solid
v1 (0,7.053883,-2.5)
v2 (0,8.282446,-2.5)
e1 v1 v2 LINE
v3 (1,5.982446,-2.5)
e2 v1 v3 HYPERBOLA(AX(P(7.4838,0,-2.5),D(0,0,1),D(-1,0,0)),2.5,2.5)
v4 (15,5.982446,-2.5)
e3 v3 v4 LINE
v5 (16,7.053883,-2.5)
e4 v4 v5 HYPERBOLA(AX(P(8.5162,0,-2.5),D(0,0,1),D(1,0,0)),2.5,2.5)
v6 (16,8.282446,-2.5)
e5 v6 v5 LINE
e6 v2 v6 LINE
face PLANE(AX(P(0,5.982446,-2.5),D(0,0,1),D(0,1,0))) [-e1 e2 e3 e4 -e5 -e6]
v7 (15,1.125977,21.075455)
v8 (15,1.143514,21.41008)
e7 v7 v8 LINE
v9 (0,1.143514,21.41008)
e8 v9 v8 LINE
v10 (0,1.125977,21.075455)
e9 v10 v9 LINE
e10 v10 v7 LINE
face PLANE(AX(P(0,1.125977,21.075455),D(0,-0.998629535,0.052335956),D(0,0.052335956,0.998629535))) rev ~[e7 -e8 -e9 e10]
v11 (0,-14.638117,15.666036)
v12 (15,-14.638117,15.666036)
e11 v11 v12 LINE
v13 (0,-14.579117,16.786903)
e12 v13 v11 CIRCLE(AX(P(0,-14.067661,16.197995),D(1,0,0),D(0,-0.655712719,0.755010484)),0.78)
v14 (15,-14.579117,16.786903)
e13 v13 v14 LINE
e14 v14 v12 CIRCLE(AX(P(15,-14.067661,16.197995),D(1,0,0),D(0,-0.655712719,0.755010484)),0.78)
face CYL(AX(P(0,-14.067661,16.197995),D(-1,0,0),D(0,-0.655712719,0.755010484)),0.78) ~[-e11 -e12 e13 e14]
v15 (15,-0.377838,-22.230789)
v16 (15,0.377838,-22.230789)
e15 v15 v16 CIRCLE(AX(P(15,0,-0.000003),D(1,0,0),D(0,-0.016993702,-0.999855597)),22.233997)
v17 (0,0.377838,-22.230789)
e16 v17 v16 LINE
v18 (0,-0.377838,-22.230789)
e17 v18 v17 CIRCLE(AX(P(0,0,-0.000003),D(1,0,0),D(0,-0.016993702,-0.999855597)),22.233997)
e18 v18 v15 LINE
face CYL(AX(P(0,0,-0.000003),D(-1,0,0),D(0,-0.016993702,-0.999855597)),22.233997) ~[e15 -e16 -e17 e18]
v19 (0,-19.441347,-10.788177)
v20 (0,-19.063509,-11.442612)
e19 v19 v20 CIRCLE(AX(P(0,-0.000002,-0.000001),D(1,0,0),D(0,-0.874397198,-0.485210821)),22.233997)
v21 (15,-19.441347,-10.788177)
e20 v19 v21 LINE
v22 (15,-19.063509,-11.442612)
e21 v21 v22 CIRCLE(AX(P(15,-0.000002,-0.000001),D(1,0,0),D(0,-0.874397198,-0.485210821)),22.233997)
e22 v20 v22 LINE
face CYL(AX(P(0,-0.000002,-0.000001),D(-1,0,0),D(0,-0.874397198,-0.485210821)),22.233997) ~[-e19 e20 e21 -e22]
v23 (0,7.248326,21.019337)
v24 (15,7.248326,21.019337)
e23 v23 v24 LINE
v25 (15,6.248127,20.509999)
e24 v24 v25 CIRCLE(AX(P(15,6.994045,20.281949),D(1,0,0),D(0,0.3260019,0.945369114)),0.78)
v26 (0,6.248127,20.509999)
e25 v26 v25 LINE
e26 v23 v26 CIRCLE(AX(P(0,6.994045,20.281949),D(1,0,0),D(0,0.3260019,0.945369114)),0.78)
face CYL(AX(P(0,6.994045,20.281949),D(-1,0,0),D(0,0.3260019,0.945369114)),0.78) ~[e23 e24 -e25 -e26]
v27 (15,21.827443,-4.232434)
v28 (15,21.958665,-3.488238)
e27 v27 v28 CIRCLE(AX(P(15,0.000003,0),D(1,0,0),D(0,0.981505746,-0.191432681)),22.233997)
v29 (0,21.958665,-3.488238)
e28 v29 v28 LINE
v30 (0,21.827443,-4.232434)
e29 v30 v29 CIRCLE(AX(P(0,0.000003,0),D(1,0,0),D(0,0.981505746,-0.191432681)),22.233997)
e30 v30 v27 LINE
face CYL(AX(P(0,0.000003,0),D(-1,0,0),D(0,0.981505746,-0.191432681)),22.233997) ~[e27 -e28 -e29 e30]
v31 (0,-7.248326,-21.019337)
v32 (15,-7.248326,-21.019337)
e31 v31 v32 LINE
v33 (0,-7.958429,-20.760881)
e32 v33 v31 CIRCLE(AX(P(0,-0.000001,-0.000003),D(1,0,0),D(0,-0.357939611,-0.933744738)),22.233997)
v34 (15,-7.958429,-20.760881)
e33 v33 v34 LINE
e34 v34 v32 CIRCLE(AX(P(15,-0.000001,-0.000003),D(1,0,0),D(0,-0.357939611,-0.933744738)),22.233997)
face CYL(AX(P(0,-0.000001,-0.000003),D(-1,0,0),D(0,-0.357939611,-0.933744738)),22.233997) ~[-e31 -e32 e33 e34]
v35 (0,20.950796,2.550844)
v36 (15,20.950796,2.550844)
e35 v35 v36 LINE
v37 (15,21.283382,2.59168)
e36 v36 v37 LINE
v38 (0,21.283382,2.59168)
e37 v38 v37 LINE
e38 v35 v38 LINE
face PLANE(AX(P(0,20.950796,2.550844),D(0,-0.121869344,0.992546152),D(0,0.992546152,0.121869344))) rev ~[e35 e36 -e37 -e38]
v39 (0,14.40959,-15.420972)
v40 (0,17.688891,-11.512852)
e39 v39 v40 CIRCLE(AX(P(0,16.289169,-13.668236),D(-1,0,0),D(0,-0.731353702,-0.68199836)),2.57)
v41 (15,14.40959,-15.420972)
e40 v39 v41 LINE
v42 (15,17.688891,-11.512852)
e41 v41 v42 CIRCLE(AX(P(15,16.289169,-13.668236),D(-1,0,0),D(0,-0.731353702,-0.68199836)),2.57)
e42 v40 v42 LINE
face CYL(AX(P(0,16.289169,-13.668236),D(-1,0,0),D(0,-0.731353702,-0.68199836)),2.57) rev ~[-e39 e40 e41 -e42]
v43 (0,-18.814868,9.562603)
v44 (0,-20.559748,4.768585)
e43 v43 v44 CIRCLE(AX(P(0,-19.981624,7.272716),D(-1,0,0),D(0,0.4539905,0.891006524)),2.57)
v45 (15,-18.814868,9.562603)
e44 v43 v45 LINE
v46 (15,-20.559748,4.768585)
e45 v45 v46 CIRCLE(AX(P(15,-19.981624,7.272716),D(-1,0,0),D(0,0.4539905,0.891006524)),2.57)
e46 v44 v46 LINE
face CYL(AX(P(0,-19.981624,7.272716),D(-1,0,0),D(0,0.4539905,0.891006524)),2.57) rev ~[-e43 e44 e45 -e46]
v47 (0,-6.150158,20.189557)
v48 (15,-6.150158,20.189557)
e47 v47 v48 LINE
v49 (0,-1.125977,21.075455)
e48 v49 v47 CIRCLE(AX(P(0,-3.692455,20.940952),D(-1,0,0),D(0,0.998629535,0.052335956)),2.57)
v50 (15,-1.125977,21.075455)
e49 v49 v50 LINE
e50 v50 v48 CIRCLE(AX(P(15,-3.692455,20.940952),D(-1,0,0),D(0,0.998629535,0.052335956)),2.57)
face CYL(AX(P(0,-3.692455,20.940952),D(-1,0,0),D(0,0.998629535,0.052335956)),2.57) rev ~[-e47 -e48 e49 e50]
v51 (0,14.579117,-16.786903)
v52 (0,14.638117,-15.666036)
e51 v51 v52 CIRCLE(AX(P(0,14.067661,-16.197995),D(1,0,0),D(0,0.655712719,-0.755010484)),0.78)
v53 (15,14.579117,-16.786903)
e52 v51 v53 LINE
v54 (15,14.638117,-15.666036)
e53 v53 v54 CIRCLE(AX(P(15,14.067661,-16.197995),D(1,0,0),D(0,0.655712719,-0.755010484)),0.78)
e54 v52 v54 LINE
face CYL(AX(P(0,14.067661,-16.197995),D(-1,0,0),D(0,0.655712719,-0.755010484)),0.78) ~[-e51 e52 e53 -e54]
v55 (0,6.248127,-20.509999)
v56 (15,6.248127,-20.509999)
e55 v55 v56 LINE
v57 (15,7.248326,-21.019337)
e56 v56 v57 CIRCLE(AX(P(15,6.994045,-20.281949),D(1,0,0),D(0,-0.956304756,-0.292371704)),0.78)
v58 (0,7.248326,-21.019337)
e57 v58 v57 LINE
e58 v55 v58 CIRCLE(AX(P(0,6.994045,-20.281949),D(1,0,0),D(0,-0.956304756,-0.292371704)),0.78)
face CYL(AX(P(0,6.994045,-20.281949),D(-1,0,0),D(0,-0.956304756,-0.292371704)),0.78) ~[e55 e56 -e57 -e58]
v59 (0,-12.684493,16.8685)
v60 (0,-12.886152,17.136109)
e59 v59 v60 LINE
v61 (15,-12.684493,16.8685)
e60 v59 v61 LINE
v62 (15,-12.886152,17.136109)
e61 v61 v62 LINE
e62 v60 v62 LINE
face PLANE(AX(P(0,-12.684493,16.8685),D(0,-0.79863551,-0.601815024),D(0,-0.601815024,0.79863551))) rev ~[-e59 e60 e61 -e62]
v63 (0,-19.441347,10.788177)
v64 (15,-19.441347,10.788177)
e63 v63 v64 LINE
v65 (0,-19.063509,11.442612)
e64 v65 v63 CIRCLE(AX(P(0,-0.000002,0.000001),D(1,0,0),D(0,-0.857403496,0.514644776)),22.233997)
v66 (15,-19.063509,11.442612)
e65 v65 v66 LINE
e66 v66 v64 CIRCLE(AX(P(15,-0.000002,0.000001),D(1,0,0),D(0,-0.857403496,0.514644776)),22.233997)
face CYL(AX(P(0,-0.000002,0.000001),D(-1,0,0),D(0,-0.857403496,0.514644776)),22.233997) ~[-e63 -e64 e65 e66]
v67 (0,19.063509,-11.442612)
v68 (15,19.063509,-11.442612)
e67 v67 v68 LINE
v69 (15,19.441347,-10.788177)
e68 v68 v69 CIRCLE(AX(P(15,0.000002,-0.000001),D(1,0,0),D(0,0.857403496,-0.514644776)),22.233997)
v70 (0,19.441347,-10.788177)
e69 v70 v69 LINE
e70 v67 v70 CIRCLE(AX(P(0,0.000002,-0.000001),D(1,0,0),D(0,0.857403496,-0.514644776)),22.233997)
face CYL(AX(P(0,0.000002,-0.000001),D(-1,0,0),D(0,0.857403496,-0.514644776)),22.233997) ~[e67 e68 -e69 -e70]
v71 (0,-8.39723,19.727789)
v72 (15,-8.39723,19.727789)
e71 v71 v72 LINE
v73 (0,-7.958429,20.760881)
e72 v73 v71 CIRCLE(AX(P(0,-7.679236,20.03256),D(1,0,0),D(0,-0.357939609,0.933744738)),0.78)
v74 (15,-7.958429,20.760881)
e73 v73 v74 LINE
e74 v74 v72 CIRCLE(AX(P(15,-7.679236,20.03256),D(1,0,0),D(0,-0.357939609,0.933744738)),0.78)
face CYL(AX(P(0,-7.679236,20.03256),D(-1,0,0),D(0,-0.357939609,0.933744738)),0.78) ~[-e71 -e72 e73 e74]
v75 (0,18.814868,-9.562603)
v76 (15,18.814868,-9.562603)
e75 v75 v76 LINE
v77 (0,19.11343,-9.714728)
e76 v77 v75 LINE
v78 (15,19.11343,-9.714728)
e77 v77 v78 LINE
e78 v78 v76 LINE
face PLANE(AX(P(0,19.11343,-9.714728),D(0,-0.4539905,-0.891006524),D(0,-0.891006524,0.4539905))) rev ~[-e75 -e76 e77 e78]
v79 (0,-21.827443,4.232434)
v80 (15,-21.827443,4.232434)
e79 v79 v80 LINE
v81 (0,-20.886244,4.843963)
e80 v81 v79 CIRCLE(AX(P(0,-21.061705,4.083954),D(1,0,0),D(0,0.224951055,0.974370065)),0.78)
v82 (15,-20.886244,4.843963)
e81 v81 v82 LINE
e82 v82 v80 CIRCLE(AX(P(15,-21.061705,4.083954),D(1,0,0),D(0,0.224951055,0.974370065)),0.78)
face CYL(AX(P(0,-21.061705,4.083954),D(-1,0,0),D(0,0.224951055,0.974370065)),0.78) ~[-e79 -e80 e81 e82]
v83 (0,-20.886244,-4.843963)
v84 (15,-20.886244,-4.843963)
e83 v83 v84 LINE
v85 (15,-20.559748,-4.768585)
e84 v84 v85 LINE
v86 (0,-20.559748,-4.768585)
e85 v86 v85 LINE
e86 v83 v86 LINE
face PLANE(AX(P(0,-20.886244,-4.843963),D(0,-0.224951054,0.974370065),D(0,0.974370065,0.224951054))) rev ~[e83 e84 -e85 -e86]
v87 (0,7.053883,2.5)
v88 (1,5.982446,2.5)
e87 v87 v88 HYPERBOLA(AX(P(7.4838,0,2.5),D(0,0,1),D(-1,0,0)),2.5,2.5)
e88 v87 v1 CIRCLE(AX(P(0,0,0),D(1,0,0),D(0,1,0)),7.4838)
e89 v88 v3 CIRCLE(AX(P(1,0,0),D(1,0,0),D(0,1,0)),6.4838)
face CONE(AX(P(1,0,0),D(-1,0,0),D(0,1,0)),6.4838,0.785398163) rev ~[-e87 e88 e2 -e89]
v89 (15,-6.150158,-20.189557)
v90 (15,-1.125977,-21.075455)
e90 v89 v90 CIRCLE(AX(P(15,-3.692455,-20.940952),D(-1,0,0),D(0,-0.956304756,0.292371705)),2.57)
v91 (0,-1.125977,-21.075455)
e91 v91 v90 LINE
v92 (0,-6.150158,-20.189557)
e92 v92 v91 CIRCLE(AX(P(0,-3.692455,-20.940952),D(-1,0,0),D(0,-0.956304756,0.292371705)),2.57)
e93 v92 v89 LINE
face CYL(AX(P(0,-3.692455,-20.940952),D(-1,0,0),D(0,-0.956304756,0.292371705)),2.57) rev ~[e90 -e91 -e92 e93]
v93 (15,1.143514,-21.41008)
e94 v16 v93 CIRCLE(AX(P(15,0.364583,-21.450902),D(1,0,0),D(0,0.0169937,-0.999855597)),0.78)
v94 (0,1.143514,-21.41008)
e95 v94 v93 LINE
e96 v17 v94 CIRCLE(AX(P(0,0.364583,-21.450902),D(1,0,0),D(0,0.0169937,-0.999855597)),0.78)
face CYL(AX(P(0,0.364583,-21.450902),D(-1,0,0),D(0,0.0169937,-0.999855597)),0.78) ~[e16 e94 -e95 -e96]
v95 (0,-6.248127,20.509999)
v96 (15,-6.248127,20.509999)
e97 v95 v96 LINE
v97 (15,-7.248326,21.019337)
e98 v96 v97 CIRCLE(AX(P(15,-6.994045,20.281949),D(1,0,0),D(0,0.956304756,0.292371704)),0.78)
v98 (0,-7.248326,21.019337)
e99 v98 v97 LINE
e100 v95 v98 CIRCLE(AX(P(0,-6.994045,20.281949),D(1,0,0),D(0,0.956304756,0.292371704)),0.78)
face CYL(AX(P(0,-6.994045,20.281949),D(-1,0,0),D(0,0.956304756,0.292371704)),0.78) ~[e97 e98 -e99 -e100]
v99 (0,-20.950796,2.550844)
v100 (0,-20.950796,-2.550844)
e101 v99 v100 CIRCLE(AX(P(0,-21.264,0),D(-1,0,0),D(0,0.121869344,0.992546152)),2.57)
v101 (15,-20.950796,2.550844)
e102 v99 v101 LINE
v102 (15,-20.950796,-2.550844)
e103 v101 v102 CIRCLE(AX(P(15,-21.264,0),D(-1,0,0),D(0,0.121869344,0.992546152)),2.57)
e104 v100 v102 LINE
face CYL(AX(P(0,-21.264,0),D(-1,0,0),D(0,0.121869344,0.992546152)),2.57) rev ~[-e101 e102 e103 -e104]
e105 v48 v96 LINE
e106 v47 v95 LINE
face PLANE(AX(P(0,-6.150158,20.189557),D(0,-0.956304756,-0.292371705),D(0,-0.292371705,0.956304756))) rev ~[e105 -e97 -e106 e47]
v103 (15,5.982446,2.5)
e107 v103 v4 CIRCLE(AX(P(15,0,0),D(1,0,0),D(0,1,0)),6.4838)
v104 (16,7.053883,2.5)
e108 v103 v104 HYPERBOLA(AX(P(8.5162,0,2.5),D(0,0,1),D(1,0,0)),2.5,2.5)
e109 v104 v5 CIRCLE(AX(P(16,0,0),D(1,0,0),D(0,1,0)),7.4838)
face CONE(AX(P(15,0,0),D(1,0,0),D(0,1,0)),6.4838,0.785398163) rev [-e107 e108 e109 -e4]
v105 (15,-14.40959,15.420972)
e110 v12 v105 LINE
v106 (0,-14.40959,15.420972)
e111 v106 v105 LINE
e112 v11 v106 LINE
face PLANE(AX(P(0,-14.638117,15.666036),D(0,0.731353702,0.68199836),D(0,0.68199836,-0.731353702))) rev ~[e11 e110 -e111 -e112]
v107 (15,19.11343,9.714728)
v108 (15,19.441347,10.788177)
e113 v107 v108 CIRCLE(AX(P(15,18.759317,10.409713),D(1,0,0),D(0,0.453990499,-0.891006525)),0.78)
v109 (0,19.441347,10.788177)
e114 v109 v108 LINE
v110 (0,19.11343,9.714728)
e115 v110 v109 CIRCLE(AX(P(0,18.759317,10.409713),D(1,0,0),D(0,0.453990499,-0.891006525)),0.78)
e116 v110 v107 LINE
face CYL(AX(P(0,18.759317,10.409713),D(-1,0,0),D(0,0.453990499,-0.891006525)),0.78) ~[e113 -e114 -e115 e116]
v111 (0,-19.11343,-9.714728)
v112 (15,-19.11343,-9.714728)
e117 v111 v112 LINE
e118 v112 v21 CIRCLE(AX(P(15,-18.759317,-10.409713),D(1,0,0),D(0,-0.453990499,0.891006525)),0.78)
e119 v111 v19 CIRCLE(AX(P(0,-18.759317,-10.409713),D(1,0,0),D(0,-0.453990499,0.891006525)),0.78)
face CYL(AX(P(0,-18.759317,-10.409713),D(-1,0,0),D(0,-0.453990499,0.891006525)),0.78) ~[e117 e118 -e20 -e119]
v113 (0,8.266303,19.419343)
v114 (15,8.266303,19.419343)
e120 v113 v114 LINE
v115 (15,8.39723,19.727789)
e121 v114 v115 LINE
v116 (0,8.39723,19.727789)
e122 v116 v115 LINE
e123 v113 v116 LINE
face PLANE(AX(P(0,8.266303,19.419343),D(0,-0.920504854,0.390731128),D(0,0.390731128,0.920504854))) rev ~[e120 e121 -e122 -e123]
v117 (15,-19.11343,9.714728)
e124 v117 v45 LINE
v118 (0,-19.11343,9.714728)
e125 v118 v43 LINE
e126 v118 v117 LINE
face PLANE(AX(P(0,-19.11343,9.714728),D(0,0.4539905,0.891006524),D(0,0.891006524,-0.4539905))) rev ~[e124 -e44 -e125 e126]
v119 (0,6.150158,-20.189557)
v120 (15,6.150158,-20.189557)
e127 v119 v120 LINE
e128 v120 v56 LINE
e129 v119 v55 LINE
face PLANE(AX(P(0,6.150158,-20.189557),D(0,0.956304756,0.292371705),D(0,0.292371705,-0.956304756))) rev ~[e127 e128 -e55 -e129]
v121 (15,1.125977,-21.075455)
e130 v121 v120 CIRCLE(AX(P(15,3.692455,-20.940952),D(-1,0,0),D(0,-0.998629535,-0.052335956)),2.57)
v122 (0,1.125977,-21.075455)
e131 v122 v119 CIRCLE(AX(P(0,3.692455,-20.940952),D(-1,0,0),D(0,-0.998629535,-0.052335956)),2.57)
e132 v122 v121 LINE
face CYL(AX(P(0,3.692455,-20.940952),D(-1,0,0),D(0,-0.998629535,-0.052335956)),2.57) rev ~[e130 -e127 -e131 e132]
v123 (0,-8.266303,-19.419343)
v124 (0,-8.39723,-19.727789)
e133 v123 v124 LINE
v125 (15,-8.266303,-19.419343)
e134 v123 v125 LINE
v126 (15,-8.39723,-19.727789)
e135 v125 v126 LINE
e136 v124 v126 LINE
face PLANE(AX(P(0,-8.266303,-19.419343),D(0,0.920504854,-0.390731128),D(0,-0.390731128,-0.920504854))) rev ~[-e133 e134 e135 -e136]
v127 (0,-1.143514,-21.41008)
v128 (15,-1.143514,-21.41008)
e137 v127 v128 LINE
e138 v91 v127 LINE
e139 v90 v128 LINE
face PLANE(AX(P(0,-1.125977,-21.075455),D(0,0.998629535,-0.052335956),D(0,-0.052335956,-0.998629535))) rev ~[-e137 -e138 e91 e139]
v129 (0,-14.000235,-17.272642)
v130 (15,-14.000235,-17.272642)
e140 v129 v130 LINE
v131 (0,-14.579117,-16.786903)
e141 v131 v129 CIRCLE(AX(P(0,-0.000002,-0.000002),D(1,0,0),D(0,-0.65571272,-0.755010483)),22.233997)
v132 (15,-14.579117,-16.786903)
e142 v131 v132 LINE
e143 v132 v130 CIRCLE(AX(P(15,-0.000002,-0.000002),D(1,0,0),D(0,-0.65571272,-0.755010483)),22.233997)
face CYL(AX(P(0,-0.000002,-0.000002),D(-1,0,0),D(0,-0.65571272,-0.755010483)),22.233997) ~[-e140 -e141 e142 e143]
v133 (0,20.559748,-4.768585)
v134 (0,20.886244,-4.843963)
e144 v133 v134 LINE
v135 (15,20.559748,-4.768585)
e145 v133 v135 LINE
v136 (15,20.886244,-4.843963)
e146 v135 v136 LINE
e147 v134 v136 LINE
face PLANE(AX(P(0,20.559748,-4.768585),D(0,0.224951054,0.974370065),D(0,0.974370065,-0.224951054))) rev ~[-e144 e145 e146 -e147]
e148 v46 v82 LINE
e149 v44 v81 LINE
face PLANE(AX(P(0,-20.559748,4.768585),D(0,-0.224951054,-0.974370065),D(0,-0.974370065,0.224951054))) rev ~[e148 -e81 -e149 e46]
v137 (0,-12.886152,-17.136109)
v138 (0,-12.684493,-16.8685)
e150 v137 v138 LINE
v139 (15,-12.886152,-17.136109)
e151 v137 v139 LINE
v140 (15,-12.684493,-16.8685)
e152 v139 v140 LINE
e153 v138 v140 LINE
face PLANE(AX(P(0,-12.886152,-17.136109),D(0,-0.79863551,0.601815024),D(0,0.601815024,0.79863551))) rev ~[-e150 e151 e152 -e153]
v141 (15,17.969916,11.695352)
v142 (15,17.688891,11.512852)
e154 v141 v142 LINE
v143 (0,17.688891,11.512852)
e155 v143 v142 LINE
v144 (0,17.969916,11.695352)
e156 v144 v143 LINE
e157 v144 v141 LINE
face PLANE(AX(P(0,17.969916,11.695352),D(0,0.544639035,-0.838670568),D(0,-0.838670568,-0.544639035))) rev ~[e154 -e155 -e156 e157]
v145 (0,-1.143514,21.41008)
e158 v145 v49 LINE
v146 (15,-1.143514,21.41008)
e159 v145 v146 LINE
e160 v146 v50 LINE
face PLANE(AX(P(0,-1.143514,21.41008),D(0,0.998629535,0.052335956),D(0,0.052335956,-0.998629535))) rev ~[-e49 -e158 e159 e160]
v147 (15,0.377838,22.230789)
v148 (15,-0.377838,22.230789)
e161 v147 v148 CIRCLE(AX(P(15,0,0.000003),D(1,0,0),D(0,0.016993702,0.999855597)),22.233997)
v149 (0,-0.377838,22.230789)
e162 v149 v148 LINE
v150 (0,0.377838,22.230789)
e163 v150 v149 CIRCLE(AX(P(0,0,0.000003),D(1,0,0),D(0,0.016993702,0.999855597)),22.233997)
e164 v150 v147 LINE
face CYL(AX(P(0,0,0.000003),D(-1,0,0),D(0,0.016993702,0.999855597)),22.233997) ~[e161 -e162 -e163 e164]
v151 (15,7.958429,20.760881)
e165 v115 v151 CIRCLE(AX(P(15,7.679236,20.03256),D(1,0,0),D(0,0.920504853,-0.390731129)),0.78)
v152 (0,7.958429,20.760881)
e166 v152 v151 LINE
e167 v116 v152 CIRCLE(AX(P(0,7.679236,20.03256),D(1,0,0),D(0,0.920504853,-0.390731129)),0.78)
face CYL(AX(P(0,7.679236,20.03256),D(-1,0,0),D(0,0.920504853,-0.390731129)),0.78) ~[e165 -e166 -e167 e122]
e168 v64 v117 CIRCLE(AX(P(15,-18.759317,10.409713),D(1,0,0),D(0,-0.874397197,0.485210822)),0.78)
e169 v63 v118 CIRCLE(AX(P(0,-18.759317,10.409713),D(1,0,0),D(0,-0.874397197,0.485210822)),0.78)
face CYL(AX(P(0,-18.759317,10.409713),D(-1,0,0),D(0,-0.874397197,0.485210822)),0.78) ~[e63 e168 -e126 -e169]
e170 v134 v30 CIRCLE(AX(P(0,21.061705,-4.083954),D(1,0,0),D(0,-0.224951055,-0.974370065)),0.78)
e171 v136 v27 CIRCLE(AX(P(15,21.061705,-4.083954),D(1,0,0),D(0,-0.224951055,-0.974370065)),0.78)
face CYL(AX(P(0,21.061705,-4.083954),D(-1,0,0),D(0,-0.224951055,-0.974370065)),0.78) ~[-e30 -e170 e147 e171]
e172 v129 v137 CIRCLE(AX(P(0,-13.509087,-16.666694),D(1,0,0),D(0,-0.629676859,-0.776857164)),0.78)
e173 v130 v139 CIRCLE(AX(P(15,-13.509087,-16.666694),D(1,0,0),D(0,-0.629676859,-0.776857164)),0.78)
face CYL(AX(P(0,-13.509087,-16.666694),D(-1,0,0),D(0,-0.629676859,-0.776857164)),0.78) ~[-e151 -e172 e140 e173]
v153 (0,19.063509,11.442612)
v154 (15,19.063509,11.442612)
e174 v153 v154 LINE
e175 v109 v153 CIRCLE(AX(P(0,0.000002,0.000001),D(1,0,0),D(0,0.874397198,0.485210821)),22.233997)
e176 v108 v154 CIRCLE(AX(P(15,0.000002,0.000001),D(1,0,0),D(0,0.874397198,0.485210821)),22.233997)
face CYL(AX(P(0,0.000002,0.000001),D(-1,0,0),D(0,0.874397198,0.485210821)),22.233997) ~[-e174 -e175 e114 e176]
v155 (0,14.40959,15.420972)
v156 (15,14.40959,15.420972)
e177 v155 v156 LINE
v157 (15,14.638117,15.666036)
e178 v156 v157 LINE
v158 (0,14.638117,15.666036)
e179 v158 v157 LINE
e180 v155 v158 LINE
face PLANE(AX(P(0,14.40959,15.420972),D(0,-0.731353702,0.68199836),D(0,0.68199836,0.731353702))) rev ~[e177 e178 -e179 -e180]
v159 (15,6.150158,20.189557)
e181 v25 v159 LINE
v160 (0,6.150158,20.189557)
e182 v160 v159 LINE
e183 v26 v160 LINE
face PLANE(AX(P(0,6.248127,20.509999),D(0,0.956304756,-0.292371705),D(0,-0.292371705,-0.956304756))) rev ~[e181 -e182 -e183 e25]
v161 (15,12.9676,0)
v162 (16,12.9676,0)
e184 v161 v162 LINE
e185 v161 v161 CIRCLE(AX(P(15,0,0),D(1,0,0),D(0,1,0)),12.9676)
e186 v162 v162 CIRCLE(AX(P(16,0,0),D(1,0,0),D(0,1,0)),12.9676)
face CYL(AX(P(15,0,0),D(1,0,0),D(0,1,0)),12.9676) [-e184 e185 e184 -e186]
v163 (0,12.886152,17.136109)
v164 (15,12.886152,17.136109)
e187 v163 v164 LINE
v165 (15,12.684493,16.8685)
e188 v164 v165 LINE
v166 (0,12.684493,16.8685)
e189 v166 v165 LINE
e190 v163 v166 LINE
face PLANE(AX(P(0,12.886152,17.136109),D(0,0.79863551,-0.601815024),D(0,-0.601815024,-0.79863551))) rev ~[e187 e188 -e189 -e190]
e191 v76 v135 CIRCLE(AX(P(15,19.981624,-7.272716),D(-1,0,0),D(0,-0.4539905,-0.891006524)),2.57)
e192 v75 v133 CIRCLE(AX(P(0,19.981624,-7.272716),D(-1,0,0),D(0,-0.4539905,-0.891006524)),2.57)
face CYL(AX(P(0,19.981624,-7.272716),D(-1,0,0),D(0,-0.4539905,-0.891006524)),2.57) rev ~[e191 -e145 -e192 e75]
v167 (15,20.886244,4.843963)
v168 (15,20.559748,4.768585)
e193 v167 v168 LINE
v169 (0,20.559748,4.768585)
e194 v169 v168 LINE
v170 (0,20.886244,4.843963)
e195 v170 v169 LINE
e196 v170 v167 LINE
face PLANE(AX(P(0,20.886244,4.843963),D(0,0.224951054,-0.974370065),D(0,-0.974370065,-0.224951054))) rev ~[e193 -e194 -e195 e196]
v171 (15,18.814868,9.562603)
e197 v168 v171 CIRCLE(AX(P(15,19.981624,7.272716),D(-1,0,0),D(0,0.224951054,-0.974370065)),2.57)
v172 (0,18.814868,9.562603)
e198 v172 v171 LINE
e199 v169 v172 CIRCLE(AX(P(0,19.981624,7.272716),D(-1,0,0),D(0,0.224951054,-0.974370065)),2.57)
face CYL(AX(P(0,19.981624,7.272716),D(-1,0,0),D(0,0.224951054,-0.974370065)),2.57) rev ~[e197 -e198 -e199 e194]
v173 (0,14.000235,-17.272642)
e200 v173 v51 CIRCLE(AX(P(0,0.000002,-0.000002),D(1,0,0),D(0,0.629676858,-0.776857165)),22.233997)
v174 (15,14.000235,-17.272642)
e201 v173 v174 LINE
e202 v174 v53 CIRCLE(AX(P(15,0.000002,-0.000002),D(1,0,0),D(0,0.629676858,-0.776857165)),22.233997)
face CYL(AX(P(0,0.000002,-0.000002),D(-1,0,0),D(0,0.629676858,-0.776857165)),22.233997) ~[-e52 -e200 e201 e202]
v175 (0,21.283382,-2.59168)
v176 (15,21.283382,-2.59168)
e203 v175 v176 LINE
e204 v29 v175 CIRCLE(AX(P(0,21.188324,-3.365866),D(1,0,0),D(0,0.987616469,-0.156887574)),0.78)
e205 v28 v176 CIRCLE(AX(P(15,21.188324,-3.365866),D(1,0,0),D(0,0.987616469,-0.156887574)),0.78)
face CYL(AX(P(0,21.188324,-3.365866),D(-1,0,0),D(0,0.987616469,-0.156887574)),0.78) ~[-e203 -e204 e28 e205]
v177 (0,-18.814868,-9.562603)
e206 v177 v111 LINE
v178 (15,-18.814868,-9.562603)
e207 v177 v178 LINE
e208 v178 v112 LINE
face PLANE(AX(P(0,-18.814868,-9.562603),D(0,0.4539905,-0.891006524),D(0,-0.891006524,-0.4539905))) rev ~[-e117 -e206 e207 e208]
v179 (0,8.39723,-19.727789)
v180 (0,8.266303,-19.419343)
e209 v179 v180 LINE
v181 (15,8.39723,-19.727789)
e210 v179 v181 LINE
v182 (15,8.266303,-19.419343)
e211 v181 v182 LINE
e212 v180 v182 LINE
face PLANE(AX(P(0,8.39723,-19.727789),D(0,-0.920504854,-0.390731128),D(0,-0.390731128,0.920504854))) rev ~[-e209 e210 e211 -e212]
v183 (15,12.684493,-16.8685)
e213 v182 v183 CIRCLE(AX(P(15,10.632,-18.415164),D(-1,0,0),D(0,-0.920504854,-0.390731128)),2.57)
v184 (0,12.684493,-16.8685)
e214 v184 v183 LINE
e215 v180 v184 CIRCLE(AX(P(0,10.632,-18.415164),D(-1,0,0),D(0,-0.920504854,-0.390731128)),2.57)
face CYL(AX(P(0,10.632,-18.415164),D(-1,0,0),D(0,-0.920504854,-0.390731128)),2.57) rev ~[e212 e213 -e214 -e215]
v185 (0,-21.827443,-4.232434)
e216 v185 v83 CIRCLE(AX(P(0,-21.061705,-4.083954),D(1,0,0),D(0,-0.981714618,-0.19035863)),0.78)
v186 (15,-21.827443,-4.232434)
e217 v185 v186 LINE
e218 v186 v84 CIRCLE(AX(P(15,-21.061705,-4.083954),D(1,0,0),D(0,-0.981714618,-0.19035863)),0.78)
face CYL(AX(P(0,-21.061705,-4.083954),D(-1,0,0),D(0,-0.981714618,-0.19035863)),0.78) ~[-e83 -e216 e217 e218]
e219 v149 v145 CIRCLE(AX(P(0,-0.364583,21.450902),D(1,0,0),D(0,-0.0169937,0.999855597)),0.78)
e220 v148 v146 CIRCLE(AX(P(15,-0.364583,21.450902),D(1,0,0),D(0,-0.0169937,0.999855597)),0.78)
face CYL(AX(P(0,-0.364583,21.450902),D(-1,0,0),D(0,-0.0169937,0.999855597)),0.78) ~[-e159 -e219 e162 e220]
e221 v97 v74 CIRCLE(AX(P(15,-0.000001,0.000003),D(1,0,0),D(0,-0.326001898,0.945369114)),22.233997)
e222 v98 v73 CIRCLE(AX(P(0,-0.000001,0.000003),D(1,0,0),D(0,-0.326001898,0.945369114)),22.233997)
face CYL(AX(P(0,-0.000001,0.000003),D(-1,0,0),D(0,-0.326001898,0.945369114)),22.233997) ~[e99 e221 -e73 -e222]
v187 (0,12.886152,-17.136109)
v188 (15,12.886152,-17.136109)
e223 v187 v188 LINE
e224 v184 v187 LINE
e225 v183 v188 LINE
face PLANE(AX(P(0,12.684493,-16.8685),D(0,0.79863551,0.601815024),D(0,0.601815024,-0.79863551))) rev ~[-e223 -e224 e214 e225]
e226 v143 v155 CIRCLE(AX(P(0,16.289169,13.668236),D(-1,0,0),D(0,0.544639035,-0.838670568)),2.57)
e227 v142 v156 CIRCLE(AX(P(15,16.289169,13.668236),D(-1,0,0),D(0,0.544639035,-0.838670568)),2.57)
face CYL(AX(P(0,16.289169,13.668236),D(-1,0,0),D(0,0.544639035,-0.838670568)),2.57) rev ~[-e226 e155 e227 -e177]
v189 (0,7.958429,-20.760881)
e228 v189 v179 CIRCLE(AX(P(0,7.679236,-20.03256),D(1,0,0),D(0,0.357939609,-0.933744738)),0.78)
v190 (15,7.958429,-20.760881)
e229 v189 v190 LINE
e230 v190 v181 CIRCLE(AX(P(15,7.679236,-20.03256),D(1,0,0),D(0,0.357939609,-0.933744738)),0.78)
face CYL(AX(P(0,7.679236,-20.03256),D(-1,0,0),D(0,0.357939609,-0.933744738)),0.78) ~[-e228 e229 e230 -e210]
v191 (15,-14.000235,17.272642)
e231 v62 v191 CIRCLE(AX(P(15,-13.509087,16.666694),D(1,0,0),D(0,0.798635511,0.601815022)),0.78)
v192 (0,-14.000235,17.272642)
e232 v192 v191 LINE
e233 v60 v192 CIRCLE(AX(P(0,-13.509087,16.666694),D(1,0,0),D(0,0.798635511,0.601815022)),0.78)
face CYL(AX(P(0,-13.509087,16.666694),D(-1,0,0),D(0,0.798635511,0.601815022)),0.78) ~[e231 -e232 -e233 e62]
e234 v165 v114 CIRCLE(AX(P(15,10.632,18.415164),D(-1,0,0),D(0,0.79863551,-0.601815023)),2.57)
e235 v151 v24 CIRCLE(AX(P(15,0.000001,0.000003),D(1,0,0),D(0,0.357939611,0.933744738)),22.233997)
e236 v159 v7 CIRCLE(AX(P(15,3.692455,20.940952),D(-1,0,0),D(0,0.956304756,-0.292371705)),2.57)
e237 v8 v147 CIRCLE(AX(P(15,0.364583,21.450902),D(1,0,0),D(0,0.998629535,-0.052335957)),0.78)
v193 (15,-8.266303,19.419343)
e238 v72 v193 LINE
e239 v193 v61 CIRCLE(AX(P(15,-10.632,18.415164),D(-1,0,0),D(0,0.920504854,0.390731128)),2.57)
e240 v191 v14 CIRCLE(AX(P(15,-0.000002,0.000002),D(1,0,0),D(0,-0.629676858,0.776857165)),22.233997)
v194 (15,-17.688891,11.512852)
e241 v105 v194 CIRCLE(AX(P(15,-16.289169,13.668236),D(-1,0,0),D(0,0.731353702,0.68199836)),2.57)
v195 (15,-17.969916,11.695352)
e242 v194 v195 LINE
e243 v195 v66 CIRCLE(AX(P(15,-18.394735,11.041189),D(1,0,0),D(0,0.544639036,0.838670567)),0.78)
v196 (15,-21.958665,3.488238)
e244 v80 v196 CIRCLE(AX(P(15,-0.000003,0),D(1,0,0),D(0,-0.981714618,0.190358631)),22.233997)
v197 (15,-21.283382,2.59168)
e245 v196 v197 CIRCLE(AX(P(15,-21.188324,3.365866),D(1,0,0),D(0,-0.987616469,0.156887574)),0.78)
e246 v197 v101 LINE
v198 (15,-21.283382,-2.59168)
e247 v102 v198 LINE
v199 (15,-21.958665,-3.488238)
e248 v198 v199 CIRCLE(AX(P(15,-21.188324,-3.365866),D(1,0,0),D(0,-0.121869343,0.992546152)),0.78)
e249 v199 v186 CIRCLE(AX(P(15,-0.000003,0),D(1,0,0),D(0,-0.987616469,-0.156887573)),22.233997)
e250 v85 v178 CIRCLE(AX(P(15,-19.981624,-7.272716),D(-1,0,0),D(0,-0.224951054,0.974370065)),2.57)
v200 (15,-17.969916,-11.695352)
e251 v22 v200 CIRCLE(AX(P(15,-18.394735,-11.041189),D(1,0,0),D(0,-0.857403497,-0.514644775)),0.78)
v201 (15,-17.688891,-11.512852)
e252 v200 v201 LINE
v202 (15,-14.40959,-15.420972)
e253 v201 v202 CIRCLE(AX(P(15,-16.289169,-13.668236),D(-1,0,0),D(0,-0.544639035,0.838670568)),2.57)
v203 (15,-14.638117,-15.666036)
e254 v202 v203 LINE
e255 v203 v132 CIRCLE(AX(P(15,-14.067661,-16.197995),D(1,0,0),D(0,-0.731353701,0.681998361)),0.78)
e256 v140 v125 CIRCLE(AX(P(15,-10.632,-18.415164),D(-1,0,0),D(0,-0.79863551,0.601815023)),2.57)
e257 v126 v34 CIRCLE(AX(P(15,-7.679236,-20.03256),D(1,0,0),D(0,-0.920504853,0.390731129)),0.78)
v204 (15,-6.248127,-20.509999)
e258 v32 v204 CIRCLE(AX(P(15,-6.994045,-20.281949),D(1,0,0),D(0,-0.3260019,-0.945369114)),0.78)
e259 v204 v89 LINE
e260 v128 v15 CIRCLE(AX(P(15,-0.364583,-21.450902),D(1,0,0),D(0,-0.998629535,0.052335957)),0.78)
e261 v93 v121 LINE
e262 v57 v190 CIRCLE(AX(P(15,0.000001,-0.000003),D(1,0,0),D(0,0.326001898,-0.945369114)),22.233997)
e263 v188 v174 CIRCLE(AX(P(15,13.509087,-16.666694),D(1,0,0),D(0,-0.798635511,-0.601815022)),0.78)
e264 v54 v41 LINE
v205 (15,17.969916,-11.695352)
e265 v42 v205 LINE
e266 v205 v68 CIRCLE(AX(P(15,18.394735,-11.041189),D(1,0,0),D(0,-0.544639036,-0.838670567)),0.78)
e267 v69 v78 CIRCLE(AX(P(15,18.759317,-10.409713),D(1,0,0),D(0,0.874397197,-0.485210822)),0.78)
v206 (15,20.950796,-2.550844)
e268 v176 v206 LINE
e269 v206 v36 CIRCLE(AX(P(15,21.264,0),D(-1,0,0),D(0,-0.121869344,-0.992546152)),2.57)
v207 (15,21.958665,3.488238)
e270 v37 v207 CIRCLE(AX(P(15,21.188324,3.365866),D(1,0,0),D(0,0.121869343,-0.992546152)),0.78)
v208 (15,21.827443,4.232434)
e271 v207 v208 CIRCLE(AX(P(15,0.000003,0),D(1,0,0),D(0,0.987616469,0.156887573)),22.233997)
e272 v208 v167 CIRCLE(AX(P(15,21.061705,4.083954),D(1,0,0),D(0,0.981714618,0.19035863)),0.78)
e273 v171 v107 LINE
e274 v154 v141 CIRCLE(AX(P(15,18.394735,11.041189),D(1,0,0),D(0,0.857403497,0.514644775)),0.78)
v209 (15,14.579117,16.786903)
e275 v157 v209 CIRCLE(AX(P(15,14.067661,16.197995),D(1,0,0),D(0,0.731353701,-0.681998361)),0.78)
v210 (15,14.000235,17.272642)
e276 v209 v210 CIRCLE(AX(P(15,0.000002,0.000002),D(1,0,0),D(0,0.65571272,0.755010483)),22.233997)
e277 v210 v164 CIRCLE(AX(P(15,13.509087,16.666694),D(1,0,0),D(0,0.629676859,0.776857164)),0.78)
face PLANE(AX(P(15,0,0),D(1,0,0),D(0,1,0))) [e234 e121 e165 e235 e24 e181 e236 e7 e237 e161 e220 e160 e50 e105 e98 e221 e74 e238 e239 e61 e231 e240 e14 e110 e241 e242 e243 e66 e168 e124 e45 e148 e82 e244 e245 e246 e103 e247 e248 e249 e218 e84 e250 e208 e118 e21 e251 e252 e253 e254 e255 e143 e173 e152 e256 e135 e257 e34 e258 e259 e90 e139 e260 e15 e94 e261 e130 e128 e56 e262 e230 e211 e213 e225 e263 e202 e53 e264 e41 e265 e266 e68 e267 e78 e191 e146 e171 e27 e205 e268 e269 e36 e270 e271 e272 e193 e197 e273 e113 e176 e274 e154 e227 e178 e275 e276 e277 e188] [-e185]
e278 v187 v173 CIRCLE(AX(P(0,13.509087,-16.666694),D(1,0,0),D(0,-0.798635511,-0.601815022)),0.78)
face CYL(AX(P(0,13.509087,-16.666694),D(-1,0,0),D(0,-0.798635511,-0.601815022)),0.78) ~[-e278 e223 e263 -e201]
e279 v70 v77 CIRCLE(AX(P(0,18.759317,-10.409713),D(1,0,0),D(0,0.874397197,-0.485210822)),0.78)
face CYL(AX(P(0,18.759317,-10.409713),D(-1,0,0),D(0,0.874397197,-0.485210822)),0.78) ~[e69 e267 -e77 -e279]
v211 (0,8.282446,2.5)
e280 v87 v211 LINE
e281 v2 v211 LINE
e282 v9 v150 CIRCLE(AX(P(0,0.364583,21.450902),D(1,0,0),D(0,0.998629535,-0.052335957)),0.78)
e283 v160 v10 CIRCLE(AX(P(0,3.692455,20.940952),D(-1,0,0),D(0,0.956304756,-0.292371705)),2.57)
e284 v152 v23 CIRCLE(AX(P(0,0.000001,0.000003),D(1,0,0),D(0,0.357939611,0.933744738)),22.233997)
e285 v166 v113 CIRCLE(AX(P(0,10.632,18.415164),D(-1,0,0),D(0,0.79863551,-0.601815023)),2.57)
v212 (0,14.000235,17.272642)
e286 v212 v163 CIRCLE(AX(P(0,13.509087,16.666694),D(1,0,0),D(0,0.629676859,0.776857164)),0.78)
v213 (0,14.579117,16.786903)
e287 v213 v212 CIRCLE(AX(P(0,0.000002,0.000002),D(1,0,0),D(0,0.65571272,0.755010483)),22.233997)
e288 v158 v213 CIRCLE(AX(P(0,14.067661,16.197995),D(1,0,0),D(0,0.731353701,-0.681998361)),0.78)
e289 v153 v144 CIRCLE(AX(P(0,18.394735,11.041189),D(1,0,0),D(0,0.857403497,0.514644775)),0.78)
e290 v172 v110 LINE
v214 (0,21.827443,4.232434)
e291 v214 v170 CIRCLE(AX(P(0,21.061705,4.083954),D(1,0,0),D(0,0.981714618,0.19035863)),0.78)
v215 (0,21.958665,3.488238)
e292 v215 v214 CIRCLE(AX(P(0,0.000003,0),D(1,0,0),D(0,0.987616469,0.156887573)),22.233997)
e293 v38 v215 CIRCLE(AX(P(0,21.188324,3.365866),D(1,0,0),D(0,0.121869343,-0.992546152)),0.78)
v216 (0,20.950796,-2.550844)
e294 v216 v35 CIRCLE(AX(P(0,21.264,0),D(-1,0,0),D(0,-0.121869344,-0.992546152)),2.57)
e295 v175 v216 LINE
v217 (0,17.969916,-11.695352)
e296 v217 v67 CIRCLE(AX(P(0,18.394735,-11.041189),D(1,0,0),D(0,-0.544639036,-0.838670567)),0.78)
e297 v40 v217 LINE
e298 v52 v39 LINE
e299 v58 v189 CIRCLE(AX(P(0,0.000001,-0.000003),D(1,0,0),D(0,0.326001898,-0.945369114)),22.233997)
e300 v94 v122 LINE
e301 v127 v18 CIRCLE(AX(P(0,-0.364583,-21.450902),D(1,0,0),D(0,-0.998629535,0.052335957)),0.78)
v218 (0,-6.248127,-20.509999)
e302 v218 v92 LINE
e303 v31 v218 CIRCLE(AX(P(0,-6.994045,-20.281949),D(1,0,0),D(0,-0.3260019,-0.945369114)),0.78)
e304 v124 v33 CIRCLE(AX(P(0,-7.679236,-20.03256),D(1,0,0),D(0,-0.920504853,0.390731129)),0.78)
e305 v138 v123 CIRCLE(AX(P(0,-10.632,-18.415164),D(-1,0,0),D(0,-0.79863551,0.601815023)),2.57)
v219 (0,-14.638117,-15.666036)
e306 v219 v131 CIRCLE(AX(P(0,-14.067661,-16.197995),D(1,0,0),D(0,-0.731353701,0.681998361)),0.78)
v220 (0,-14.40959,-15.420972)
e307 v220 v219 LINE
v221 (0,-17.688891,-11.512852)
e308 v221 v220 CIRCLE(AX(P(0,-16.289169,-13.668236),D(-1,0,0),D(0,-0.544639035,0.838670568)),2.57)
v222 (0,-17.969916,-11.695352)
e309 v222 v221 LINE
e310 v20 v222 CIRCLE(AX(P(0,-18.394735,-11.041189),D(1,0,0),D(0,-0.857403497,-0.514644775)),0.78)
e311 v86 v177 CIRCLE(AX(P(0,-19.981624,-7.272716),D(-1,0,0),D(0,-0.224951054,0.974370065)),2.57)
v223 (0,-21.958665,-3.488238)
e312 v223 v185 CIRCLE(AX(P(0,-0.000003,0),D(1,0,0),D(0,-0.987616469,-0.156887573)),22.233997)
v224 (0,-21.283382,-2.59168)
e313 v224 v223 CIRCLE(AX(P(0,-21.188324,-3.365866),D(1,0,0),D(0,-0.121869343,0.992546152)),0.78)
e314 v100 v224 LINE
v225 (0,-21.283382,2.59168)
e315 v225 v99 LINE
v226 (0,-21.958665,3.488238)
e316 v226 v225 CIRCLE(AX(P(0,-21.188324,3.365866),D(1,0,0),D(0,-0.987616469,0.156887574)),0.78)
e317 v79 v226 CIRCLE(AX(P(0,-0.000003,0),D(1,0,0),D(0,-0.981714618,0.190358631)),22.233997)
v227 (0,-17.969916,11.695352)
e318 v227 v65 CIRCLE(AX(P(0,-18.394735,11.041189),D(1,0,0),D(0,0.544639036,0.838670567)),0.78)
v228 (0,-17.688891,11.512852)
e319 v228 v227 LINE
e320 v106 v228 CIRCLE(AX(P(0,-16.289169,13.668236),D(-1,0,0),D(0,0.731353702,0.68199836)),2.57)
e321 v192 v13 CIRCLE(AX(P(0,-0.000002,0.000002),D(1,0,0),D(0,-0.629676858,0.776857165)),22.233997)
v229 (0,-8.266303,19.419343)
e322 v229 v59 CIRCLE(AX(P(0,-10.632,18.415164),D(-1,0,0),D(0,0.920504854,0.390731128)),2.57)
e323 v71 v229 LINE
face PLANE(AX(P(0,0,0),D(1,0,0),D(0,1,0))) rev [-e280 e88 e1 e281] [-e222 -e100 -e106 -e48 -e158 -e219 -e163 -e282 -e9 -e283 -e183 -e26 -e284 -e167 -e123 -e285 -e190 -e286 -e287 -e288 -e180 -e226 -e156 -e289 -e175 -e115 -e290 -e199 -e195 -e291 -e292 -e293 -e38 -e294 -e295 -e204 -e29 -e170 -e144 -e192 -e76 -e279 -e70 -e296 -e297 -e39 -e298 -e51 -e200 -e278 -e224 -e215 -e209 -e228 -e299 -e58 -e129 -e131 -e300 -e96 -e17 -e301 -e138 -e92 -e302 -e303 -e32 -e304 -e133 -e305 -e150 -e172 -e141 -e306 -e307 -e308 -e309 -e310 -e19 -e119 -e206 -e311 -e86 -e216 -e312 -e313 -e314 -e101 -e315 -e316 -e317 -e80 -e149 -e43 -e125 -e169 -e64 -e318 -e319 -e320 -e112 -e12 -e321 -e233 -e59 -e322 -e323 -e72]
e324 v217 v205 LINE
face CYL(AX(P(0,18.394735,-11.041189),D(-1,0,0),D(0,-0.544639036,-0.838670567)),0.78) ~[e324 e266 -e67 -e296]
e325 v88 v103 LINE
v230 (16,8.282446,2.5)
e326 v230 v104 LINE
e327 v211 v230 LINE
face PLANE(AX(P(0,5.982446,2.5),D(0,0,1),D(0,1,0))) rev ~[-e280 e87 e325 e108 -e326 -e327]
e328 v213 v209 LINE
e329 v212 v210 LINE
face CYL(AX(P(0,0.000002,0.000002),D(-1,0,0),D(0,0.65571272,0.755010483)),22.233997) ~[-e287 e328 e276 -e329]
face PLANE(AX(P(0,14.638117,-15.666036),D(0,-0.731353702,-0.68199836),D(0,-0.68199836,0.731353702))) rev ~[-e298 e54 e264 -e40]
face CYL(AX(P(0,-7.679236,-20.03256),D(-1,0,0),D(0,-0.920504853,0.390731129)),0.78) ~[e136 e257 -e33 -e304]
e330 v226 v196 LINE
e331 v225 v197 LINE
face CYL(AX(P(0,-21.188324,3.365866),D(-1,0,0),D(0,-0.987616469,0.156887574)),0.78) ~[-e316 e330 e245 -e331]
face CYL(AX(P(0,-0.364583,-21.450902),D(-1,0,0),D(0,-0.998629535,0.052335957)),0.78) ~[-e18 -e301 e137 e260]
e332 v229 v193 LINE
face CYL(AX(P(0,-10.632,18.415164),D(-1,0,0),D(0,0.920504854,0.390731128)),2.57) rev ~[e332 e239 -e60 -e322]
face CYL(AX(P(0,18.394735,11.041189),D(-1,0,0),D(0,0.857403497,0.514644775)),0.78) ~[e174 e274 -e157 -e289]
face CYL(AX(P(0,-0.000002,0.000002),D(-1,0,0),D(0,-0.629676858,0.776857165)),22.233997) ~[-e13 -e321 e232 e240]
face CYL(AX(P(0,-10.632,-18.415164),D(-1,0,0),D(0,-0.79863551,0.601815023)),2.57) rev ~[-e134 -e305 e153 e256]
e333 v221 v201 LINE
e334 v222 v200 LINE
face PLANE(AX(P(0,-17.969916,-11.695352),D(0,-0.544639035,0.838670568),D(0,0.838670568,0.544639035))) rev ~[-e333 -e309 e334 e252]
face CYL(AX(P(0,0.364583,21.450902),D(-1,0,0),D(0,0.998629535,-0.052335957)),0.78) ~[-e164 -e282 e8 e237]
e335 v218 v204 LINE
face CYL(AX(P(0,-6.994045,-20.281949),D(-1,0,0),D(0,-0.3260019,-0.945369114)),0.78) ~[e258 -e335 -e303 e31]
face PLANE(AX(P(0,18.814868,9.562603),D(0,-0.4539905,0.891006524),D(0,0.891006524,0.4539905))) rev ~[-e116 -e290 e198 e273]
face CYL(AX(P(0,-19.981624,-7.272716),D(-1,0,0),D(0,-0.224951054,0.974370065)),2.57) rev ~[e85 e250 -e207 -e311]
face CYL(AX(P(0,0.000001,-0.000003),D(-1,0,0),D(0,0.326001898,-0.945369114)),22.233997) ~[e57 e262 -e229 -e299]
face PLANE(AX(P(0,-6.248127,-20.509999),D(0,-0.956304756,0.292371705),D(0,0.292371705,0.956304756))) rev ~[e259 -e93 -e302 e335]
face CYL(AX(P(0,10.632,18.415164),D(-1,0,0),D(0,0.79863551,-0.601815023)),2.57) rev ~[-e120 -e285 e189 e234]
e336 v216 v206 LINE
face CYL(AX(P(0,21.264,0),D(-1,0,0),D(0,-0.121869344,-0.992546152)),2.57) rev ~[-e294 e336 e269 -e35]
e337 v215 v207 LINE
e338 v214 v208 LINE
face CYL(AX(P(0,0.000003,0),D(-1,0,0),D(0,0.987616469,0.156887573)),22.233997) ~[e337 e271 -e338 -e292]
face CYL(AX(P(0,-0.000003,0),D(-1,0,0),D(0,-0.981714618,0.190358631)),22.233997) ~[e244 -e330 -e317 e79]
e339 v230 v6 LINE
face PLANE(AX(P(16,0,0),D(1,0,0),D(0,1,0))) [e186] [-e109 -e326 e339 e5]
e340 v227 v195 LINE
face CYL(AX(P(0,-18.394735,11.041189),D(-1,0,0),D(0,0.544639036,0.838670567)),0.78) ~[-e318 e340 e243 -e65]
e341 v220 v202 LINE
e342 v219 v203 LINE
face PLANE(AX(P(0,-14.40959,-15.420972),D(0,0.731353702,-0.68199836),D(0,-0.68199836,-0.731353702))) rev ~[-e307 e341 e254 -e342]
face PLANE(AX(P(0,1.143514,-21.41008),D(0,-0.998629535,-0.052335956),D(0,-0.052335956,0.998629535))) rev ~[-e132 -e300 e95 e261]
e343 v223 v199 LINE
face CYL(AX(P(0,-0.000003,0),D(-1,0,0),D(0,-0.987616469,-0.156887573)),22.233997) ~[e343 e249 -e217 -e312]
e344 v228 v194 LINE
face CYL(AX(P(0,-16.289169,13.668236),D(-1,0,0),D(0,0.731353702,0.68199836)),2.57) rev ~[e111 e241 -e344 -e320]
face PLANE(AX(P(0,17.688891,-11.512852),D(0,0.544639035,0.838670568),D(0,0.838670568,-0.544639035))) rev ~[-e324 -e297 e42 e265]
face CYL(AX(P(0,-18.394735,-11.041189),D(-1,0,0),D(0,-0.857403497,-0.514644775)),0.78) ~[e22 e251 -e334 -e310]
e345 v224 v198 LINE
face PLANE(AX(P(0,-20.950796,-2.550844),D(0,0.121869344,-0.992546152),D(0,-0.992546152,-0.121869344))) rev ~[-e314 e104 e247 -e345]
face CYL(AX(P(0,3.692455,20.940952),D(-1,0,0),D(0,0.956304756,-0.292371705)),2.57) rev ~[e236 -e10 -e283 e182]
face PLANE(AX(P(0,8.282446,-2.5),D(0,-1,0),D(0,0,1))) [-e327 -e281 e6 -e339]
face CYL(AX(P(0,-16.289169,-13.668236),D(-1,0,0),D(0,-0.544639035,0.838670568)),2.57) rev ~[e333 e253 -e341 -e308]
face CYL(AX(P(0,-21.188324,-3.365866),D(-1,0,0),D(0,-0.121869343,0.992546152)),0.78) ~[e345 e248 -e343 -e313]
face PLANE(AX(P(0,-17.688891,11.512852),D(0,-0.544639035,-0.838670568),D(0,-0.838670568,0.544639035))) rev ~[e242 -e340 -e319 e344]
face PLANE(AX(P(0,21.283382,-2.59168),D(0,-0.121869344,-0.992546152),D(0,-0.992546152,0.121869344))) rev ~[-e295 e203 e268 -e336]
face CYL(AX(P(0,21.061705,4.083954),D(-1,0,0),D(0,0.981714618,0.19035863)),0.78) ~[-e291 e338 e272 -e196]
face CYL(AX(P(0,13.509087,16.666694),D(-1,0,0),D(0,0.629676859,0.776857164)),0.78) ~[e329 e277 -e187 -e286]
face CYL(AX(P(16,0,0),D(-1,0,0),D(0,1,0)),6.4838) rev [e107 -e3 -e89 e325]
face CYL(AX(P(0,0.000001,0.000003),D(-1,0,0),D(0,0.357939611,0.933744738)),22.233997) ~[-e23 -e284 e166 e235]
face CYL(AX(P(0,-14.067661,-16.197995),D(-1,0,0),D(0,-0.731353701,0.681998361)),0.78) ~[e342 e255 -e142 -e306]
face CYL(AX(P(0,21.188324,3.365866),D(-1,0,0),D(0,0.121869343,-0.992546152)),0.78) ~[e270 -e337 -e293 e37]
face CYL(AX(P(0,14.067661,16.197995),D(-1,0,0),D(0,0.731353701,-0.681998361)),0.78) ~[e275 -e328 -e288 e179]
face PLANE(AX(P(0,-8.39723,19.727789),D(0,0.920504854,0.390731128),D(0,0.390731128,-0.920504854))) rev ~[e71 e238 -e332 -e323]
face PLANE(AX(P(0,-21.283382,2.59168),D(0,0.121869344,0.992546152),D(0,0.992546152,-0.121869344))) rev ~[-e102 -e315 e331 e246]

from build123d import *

# Parameters (mm, degrees)
CHAMFER_1_SIZE           = 1
SKETCH_4_W               = 5
SKETCH_4_H               = 2.299999952
CUT_EXTRUDE_1_DEPTH      = 36.280327549
CUT_EXTRUDE_2_REACH      = 37.28
PATTERN_CIRCULAR_3_COUNT = 18


with BuildPart() as part:
    # 草图1 → 旋转1 (revolve)
    with BuildSketch(Plane.XY):
        Polygon((0, 6.4838), (0, 22.234), (15, 22.234), (15, 12.9676), (16, 12.9676), (16, 6.4838), align=None)
    revolve(axis=Axis((0, 0, 0), (1, 0, 0)))

    # 倒角1
    chamfer_1_edges = [part.edges().sort_by_distance(p)[0] for p in [
        (16, -6.4838, 0),
        (0, -6.4838, 0),
    ]]
    chamfer(chamfer_1_edges, length=CHAMFER_1_SIZE)

    # 草图4 → 切除-拉伸1 (cut, through all)
    with BuildSketch(Plane.ZY):
        with Locations((0, 7.132446168)):
            Rectangle(SKETCH_4_W, SKETCH_4_H)
    extrude(amount=-CUT_EXTRUDE_1_DEPTH, mode=Mode.SUBTRACT)

    # 草图6 → 切除-拉伸2 (cut, up to next)
    with BuildSketch(Plane(origin=(0, 0, 0), x_dir=(0, 0, -1), z_dir=(1, 0, 0)), mode=Mode.PRIVATE) as cut_extrude_2_sk1:
        with BuildLine():
            Line((2.591680038, 21.283381802), (2.55084361, 20.950795787))
            ThreePointArc((2.55084361, 20.950795787), (0, 18.694), (-2.55084361, 20.950795787))
            Line((-2.55084361, 20.950795787), (-2.591680038, 21.283381802))
            ThreePointArc((-2.591680038, 21.283381802), (-2.896593224, 21.811367074), (-3.488238344, 21.95866456))
            ThreePointArc((-3.488238344, 21.95866456), (-3.872872102, 21.894100066), (-4.256314176, 21.822798758))
            Line((-4.256314176, 21.822798758), (-4.452962165, 23.4243681))
            ThreePointArc((-4.452962165, 23.4243681), (0, 23.843864891), (4.452962165, 23.4243681))
            Line((4.452962165, 23.4243681), (4.256314176, 21.822798758))
            ThreePointArc((4.256314176, 21.822798758), (3.872872102, 21.894100066), (3.488238344, 21.95866456))
            ThreePointArc((3.488238344, 21.95866456), (2.896593224, 21.811367074), (2.591680038, 21.283381802))
        make_face()
    cut_extrude_2_tool1 = extrude(cut_extrude_2_sk1.sketch, amount=CUT_EXTRUDE_2_REACH, mode=Mode.PRIVATE) & part.part
    cut_extrude_2 = cut_extrude_2_tool1.solids().sort_by_distance((0, 21.745564, 0))[0]
    add(cut_extrude_2, mode=Mode.SUBTRACT)

    # 阵列(圆周)3: 切除-拉伸2 ×18 about axis
    pattern_circular_3_axis = Axis((-1.4, 0, 0), (1, 0, 0))
    for i in range(1, PATTERN_CIRCULAR_3_COUNT):
        add(cut_extrude_2.rotate(pattern_circular_3_axis, i * 360 / PATTERN_CIRCULAR_3_COUNT), mode=Mode.SUBTRACT)


solid = part.part
